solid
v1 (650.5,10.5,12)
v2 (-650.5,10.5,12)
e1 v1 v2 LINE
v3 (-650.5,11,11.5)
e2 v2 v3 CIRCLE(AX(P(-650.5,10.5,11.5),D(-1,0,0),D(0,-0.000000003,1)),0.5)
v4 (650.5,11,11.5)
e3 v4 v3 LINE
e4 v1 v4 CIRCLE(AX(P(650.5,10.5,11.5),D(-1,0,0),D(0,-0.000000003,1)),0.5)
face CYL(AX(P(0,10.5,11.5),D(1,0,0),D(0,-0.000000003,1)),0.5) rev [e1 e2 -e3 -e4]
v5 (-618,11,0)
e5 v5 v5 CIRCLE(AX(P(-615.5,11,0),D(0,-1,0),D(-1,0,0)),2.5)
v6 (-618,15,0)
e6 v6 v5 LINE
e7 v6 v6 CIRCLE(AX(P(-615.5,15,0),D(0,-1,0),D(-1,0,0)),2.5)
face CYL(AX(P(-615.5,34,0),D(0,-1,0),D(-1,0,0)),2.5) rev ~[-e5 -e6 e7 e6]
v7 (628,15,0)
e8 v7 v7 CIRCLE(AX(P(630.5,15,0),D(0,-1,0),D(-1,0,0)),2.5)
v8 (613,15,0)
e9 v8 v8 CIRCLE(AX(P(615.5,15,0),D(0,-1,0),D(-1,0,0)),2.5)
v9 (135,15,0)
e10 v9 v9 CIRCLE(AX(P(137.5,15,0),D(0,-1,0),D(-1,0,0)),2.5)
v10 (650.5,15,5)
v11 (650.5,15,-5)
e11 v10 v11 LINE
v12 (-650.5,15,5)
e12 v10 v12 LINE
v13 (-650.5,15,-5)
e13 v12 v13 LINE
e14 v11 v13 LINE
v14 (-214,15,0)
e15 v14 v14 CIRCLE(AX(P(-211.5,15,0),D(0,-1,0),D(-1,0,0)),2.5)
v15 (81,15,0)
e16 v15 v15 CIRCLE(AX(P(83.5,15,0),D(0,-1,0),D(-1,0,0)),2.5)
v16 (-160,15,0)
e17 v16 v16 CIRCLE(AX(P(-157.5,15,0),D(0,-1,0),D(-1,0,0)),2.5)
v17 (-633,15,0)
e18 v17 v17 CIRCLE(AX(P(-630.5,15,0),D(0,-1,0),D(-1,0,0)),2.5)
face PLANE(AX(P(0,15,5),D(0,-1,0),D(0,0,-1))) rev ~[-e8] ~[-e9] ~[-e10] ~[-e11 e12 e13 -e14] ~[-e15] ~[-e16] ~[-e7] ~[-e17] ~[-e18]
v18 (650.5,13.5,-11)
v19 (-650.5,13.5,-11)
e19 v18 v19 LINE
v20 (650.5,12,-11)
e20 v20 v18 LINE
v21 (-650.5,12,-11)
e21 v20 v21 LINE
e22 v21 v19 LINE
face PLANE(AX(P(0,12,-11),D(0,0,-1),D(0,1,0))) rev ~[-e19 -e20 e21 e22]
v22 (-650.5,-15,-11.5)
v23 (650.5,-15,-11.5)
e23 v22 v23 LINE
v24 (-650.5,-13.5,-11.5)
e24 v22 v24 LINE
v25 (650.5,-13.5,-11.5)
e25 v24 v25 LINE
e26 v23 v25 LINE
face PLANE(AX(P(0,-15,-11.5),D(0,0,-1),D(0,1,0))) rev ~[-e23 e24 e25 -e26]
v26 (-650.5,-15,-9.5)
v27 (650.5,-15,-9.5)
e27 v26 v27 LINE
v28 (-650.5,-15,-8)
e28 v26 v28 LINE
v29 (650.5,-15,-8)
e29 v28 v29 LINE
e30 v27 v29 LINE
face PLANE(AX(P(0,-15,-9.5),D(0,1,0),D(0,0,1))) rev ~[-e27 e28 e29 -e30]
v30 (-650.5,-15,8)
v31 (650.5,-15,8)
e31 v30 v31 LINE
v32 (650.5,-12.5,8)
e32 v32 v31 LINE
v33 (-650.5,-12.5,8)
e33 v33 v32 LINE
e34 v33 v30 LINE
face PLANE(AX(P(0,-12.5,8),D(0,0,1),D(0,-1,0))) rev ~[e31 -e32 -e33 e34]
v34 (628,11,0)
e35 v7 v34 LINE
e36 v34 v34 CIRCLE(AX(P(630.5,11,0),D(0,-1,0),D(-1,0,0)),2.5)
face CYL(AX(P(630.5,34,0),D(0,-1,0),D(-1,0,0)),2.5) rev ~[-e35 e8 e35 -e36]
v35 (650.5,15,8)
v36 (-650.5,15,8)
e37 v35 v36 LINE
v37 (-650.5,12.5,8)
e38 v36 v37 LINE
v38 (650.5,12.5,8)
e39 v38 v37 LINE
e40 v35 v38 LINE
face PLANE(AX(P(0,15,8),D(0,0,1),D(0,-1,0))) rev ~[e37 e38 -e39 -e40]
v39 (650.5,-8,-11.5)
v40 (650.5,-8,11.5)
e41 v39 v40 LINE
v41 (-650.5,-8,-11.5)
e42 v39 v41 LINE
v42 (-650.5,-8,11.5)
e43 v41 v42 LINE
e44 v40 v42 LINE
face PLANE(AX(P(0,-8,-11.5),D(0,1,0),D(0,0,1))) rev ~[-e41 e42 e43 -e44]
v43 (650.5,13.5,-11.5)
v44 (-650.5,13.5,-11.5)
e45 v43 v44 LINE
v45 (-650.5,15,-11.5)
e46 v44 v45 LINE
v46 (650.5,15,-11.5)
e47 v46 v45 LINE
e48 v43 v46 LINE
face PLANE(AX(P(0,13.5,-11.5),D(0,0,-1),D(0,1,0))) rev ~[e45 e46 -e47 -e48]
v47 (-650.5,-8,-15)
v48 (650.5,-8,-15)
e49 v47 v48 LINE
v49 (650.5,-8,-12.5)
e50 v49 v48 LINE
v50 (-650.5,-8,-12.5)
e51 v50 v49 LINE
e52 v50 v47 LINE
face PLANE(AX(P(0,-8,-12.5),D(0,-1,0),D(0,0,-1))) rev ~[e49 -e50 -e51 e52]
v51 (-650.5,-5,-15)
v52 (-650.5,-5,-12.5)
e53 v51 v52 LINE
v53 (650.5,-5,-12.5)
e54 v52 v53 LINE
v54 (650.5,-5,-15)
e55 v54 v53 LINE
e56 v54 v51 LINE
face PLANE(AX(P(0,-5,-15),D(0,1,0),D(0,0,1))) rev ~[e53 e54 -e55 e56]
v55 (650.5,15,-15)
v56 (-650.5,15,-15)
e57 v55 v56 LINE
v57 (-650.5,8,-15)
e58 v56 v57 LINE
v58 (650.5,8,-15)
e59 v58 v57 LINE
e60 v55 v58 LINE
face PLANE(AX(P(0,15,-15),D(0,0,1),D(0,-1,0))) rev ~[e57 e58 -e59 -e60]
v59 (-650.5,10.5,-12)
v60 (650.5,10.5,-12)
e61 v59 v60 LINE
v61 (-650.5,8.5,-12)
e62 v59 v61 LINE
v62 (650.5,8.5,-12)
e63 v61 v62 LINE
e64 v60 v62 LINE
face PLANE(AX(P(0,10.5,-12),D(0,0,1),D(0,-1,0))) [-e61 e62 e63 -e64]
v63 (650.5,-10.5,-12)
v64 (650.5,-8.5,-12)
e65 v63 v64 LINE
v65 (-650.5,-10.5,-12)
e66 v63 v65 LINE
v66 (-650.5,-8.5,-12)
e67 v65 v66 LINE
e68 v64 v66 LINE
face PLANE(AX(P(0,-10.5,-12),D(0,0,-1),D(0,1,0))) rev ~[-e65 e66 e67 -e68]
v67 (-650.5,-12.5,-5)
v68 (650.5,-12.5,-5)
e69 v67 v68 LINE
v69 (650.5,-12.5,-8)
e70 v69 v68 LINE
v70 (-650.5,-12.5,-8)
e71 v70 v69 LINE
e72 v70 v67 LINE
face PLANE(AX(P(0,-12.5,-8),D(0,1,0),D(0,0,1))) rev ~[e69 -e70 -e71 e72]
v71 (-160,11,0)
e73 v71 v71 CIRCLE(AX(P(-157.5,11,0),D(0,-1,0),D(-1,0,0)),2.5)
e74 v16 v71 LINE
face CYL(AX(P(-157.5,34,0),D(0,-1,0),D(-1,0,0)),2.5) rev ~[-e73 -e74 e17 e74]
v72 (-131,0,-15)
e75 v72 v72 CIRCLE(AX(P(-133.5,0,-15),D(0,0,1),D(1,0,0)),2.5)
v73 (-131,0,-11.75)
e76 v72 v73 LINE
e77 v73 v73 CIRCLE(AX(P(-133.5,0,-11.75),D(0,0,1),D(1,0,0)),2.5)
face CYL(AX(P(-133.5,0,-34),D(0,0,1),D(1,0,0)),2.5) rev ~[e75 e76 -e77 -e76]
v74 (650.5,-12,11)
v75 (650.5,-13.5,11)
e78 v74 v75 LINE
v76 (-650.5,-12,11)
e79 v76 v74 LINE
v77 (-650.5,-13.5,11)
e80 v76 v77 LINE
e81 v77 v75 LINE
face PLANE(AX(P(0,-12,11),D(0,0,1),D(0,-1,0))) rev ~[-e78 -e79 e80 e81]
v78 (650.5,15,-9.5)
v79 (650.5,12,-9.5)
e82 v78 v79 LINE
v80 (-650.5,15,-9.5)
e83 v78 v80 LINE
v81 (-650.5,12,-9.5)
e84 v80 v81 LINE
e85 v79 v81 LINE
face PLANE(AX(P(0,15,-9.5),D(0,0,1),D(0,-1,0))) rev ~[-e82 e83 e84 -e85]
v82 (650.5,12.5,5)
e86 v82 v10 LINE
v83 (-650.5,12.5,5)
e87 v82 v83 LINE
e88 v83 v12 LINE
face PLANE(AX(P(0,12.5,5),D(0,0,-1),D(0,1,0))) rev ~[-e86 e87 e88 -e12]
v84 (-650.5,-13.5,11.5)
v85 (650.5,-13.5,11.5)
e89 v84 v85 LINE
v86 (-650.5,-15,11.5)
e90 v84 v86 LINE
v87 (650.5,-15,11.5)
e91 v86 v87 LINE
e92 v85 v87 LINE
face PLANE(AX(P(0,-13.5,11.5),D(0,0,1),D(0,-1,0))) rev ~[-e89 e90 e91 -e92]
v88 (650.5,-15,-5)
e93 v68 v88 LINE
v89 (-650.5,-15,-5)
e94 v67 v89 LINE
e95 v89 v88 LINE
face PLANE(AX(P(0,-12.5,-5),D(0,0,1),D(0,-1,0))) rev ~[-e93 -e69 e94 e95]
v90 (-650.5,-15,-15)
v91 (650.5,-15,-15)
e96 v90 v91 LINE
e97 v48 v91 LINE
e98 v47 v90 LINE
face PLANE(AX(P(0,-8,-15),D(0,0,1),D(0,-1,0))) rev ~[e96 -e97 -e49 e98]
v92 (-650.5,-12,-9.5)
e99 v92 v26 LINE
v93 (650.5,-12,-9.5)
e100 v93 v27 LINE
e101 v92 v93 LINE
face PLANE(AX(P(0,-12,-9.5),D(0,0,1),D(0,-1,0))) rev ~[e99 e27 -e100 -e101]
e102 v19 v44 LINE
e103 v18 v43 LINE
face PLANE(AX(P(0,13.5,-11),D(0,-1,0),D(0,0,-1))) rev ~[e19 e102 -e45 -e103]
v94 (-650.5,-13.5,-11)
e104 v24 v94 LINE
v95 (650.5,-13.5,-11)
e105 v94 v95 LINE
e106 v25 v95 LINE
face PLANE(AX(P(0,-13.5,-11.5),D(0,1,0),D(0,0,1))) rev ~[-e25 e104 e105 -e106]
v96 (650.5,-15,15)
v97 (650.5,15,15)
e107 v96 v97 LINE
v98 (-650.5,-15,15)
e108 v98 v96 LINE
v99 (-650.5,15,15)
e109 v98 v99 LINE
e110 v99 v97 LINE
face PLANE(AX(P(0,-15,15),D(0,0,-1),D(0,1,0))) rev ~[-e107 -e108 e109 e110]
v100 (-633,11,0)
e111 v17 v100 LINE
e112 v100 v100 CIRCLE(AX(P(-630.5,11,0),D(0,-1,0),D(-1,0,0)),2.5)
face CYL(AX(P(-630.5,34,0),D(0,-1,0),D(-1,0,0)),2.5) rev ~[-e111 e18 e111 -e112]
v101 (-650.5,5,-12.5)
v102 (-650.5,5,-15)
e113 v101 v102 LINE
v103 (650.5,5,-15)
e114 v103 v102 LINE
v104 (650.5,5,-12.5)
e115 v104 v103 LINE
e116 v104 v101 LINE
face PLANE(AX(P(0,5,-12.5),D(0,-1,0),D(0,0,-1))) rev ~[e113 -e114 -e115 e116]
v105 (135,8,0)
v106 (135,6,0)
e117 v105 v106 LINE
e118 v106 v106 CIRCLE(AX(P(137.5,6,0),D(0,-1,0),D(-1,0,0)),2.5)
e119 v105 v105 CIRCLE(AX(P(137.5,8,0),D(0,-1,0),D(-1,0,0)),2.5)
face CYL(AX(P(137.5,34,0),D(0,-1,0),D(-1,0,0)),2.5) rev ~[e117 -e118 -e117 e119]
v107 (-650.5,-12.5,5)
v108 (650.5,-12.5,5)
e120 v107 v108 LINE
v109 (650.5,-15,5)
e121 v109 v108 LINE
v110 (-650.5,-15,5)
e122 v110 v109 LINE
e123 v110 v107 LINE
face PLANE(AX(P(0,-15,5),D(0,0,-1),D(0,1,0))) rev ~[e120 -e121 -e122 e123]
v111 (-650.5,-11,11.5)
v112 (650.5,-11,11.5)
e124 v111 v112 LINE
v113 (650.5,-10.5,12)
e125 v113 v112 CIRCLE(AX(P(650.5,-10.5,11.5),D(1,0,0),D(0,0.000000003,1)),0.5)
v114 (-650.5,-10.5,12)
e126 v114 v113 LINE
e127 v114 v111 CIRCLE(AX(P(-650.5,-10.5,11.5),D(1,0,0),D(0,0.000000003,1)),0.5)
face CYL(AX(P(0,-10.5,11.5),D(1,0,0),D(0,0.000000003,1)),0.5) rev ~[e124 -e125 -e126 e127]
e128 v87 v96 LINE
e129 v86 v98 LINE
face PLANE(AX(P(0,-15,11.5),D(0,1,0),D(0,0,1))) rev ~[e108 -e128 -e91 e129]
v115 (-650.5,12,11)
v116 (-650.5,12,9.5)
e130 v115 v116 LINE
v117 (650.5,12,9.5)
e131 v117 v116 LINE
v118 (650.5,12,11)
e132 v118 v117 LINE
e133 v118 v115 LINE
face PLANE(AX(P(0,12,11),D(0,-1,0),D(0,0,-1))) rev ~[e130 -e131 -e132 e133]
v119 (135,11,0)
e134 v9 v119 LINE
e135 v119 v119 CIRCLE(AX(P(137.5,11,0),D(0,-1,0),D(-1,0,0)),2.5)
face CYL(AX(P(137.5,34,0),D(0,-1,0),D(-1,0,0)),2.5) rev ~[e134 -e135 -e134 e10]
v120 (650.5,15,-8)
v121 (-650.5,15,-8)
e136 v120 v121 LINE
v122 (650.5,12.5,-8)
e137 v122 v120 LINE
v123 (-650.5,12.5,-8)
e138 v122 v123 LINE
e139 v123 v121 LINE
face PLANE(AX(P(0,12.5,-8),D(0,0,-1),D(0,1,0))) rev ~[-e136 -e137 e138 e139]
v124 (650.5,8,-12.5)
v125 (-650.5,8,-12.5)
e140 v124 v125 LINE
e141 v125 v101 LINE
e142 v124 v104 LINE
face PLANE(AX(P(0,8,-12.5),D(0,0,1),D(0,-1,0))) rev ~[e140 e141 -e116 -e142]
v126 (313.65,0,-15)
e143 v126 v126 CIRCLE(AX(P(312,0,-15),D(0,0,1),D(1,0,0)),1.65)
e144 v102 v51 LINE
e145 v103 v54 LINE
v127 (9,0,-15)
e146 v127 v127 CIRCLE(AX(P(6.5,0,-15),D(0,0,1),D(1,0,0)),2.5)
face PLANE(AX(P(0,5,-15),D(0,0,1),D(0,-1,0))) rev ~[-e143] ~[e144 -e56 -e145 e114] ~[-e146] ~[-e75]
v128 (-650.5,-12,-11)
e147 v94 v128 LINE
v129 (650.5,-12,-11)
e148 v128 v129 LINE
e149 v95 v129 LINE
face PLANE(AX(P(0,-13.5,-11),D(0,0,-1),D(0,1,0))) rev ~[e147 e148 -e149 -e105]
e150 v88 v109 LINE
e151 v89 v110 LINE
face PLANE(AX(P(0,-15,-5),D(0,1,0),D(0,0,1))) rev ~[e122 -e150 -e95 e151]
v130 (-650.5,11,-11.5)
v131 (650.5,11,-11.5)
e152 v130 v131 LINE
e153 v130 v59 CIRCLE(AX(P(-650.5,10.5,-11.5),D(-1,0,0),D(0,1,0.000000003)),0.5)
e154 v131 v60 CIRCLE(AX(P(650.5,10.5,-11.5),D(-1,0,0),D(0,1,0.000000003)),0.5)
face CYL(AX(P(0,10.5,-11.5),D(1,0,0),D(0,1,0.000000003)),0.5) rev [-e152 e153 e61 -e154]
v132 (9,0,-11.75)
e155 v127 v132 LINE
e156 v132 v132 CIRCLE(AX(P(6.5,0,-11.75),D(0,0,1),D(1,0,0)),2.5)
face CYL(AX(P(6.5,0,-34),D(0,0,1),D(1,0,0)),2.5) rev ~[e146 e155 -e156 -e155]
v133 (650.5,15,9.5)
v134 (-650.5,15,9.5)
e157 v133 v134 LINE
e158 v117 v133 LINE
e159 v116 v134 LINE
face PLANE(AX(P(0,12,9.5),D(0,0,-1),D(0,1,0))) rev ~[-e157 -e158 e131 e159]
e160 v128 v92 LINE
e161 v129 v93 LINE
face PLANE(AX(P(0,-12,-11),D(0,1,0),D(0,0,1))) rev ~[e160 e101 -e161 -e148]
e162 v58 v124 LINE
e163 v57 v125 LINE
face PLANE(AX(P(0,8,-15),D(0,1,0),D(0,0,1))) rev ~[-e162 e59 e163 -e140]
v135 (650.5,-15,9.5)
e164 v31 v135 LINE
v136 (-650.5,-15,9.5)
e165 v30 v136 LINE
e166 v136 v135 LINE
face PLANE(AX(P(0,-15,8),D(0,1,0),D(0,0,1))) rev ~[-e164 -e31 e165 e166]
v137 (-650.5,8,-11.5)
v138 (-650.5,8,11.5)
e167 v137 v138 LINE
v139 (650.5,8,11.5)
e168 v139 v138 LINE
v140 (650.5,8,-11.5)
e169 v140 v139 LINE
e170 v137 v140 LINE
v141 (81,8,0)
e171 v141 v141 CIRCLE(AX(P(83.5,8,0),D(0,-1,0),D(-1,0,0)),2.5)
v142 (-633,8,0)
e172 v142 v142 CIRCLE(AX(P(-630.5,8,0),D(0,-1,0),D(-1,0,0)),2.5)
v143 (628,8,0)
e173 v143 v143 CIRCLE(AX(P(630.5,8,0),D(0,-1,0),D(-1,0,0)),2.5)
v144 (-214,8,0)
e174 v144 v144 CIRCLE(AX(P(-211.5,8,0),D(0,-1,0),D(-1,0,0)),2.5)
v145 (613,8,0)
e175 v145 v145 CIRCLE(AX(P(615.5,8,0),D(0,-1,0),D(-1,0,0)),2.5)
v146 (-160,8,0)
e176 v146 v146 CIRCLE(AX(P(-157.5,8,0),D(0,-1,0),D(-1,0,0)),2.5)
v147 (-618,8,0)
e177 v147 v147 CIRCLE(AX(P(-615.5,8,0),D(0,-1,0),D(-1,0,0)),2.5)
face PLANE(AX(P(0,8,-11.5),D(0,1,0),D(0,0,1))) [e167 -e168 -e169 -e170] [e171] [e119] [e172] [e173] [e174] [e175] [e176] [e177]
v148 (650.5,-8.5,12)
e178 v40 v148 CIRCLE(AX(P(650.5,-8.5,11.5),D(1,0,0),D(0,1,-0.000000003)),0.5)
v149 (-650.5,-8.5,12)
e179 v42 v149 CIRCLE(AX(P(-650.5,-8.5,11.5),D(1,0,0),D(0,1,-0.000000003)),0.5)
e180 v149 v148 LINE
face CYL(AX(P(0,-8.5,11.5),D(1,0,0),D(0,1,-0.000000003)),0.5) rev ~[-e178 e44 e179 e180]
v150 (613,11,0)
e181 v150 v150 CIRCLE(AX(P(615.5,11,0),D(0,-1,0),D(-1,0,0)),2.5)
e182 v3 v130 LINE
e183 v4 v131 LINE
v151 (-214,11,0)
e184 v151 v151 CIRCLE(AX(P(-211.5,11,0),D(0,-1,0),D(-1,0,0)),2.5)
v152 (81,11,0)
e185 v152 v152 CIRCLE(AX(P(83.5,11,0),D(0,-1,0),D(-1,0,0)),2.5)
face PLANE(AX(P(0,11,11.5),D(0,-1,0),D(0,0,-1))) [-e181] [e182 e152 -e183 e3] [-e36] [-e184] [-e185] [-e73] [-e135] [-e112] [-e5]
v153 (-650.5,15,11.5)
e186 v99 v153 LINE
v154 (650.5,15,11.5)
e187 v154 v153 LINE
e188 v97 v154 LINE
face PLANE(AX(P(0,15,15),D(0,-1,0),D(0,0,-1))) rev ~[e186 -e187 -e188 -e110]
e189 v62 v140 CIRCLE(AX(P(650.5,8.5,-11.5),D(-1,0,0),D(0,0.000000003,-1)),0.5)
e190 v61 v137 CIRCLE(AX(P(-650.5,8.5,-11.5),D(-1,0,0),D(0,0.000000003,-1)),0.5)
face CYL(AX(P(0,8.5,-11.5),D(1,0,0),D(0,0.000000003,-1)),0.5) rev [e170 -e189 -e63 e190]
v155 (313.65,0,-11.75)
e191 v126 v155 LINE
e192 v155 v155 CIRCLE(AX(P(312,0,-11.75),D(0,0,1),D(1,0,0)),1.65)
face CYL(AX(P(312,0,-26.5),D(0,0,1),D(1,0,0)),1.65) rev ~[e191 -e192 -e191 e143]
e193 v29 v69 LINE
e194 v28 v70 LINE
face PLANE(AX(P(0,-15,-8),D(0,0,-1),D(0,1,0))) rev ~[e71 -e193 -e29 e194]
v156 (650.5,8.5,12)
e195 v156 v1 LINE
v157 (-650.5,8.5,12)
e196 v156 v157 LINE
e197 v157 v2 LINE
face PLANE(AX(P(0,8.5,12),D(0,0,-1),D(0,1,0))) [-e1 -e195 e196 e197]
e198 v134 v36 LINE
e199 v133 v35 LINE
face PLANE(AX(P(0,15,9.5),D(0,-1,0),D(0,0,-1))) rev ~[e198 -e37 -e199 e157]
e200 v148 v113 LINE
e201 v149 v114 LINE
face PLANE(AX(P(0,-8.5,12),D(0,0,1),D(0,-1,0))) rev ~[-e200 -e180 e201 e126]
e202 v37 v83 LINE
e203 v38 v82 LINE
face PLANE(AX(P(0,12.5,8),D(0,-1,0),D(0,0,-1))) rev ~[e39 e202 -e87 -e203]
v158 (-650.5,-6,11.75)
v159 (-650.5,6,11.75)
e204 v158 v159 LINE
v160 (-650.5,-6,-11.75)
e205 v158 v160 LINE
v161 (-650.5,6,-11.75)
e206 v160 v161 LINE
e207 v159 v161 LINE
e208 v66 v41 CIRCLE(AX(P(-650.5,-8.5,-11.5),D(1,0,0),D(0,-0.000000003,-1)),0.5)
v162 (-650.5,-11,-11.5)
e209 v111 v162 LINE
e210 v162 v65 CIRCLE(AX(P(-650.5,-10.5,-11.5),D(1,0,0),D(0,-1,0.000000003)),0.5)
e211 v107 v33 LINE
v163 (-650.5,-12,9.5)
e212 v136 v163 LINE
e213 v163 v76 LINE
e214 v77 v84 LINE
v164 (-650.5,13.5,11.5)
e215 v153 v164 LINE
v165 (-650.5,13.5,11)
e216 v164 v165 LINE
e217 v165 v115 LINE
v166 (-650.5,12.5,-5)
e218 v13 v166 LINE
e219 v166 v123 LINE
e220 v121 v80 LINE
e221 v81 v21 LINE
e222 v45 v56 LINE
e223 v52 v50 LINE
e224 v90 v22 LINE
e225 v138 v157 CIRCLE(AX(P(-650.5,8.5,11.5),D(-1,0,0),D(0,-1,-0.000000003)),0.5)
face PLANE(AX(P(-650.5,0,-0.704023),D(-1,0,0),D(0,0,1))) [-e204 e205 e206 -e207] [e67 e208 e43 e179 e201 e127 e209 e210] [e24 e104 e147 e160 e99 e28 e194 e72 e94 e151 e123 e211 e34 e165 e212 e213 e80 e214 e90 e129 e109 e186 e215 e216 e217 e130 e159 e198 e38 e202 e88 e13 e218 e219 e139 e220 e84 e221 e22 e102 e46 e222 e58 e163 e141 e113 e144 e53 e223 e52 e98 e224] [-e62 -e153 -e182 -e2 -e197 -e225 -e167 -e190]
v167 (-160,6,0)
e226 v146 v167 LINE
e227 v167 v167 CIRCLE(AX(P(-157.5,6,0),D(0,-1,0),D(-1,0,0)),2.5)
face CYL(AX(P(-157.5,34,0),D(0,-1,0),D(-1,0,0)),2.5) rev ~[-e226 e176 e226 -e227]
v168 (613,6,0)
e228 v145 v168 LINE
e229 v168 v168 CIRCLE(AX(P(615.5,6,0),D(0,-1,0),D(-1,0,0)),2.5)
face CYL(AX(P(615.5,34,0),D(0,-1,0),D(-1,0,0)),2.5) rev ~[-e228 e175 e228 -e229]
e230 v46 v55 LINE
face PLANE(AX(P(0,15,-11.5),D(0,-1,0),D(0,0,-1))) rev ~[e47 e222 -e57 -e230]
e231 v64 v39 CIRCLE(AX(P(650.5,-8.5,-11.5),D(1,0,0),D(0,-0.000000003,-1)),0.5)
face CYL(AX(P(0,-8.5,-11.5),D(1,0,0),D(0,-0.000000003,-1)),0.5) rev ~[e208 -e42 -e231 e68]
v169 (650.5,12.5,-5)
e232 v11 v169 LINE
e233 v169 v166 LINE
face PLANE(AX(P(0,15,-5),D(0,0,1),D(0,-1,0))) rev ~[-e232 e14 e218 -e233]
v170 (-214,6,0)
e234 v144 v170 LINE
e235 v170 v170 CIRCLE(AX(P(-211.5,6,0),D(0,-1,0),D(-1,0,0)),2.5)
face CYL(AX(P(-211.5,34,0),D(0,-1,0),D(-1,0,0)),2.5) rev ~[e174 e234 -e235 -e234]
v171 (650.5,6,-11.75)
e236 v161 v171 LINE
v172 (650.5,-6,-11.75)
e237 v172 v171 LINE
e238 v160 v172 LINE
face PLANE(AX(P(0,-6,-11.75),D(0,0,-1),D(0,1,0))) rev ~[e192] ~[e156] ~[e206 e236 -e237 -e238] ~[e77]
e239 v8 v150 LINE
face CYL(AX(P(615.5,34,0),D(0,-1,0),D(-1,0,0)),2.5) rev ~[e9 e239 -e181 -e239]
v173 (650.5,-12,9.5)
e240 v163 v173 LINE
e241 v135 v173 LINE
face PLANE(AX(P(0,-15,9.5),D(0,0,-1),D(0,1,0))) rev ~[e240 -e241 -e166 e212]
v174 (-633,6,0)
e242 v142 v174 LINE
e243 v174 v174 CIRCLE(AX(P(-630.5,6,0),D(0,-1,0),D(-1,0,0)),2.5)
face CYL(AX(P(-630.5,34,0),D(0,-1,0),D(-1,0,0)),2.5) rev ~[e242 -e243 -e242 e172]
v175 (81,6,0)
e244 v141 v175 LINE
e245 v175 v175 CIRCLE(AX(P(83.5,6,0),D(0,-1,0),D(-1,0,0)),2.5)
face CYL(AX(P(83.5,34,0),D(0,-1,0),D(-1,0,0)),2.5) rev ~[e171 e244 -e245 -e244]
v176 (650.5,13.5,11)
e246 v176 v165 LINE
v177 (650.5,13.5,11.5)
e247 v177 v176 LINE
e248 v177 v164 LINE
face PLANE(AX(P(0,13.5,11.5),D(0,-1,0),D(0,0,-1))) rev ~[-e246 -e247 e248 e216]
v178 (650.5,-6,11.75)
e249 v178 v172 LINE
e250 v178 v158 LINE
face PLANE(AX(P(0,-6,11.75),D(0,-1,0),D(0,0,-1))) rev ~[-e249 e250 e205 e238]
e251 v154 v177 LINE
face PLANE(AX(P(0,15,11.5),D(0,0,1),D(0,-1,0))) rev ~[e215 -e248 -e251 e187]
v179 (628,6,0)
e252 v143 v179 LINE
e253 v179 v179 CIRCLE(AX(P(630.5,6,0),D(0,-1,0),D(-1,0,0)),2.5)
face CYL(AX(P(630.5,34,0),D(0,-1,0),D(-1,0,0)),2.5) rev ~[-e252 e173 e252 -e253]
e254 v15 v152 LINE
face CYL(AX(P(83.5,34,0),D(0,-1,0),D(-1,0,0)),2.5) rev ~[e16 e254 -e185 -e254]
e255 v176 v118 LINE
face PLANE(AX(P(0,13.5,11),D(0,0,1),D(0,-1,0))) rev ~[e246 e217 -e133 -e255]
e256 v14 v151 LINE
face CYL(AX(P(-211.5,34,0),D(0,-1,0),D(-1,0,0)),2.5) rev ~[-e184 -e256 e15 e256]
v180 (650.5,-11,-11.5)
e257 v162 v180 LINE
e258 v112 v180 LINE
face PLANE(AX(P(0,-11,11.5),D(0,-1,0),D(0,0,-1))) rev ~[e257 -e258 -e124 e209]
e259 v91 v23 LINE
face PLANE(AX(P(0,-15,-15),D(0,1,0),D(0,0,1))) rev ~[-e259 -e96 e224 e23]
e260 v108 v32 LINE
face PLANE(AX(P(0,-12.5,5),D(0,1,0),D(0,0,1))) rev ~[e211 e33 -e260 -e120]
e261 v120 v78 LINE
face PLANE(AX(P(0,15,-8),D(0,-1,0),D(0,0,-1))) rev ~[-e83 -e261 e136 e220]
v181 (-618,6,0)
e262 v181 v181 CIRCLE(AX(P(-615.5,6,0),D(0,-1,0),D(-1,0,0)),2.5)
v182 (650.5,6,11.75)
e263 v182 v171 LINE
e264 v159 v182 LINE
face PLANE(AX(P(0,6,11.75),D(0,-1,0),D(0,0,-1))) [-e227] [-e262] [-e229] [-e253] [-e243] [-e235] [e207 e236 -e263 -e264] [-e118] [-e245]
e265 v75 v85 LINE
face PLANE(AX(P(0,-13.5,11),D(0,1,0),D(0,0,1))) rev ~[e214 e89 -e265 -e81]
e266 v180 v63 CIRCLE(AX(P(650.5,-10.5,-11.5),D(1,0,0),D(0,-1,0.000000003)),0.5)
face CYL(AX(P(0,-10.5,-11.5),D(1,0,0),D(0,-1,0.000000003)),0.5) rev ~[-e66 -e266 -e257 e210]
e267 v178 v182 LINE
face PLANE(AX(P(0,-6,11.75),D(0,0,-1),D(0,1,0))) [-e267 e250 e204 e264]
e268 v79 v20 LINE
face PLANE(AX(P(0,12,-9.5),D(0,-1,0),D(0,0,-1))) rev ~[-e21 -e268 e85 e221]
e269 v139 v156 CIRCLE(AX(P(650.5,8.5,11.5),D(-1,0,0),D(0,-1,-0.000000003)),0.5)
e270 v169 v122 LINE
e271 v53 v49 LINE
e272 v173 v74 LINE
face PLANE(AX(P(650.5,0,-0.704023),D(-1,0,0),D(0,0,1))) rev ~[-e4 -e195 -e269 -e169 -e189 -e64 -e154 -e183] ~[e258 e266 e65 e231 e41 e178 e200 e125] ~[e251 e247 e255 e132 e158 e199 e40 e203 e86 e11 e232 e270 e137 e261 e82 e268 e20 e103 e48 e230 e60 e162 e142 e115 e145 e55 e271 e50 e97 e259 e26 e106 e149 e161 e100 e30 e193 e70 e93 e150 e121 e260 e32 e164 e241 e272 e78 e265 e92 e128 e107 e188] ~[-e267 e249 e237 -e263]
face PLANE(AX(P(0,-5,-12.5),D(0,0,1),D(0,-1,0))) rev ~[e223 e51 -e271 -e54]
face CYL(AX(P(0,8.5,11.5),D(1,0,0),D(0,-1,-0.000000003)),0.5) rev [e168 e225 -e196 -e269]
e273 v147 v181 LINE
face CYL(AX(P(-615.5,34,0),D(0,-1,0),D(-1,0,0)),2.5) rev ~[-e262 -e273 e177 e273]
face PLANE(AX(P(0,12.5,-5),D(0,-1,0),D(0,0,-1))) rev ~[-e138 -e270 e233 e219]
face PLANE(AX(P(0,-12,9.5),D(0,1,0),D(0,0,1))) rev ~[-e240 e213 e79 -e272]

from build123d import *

# Parameters (mm, degrees)
SKETCH_1_W             = 23.5
SKETCH_1_H             = 12
EXTRUDE_1_DEPTH        = 650.5
HOLE_WIZARD_M6_1_D     = 5
HOLE_WIZARD_M6_1_DEPTH = 19
HOLE_WIZARD_M6_1_TIP   = 1.502151548
HOLE_WIZARD_M6_2_D     = 5
HOLE_WIZARD_M6_2_DEPTH = 19
HOLE_WIZARD_M6_2_TIP   = 1.502151548
HOLE_WIZARD_M4_1_D     = 3.3
HOLE_WIZARD_M4_1_DEPTH = 11.5
HOLE_WIZARD_M4_1_TIP   = 0.991420021


with BuildPart() as part:
    # 草图1 → 凸台-拉伸1 (new, symmetric)
    with BuildSketch(Plane(origin=(0, 0, 0), x_dir=(0, 0, -1), z_dir=(1, 0, 0))):
        Polygon((-15, 15), (-11.5, 15), (-11.5, 13.5), (-11, 13.5), (-11, 12), (-9.5, 12), (-9.5, 15), (-8, 15), (-8, 12.5), (-5, 12.5), (-5, 15), (5, 15), (5, 12.5), (8, 12.5), (8, 15), (9.5, 15), (9.5, 12), (11, 12), (11, 13.5), (11.5, 13.5), (11.5, 15), (15, 15), (15, 8), (12.5, 8), (12.5, 5), (15, 5), (15, -5), (12.5, -5), (12.5, -8), (15, -8), (15, -15), (11.5, -15), (11.5, -13.5), (11, -13.5), (11, -12), (9.5, -12), (9.5, -15), (8, -15), (8, -12.5), (5, -12.5), (5, -15), (-5, -15), (-5, -12.5), (-8, -12.5), (-8, -15), (-9.5, -15), (-9.5, -12), (-11, -12), (-11, -13.5), (-11.5, -13.5), (-11.5, -15), (-15, -15), align=None)
        with BuildLine():
            Line((12, -10.5), (12, -8.5))
            ThreePointArc((12, -8.5), (11.853553391, -8.146446609), (11.5, -8))
            Line((11.5, -8), (-11.5, -8))
            ThreePointArc((-11.5, -8), (-11.853553391, -8.146446609), (-12, -8.5))
            Line((-12, -8.5), (-12, -10.5))
            ThreePointArc((-12, -10.5), (-11.853553391, -10.853553391), (-11.5, -11))
            Line((-11.5, -11), (11.5, -11))
            ThreePointArc((11.5, -11), (11.853553391, -10.853553391), (12, -10.5))
        make_face(mode=Mode.SUBTRACT)
        with BuildLine():
            Line((-11.5, 11), (11.5, 11))
            ThreePointArc((11.5, 11), (11.853553391, 10.853553391), (12, 10.5))
            Line((12, 10.5), (12, 8.5))
            ThreePointArc((12, 8.5), (11.853553391, 8.146446609), (11.5, 8))
            Line((11.5, 8), (-11.5, 8))
            ThreePointArc((-11.5, 8), (-11.853553391, 8.146446609), (-12, 8.5))
            Line((-12, 8.5), (-12, 10.5))
            ThreePointArc((-12, 10.5), (-11.853553391, 10.853553391), (-11.5, 11))
        make_face(mode=Mode.SUBTRACT)
        Rectangle(SKETCH_1_W, SKETCH_1_H, mode=Mode.SUBTRACT)
    extrude(amount=EXTRUDE_1_DEPTH, both=True)

    # M6 螺纹孔1
    with Locations(Plane(origin=(0, 15, 0), x_dir=(1, 0, 0), z_dir=(0, 1, 0))):
        with Locations((-630.5, 0), (-615.5, 0), (615.5, 0), (630.5, 0), (-211.5, 0), (-157.5, 0), (83.5, 0), (137.5, 0)):
            Hole(HOLE_WIZARD_M6_1_D / 2, depth=HOLE_WIZARD_M6_1_DEPTH)
            with Locations((0, 0, -(HOLE_WIZARD_M6_1_DEPTH + HOLE_WIZARD_M6_1_TIP / 2))):  # 118° drill point
                Cone(0, HOLE_WIZARD_M6_1_D / 2, HOLE_WIZARD_M6_1_TIP, mode=Mode.SUBTRACT)

    # M6 螺纹孔2
    with Locations(Plane(origin=(0, 0, -15), x_dir=(-1, 0, 0), z_dir=(0, 0, -1))):
        with Locations((133.5, 0), (-6.5, 0)):
            Hole(HOLE_WIZARD_M6_2_D / 2, depth=HOLE_WIZARD_M6_2_DEPTH)
            with Locations((0, 0, -(HOLE_WIZARD_M6_2_DEPTH + HOLE_WIZARD_M6_2_TIP / 2))):  # 118° drill point
                Cone(0, HOLE_WIZARD_M6_2_D / 2, HOLE_WIZARD_M6_2_TIP, mode=Mode.SUBTRACT)

    # M4 螺纹孔1
    with Locations(Plane(origin=(0, 0, -15), x_dir=(-1, 0, 0), z_dir=(0, 0, -1))):
        with Locations((-312, 0)):
            Hole(HOLE_WIZARD_M4_1_D / 2, depth=HOLE_WIZARD_M4_1_DEPTH)
            with Locations((0, 0, -(HOLE_WIZARD_M4_1_DEPTH + HOLE_WIZARD_M4_1_TIP / 2))):  # 118° drill point
                Cone(0, HOLE_WIZARD_M4_1_D / 2, HOLE_WIZARD_M4_1_TIP, mode=Mode.SUBTRACT)


solid = part.part
